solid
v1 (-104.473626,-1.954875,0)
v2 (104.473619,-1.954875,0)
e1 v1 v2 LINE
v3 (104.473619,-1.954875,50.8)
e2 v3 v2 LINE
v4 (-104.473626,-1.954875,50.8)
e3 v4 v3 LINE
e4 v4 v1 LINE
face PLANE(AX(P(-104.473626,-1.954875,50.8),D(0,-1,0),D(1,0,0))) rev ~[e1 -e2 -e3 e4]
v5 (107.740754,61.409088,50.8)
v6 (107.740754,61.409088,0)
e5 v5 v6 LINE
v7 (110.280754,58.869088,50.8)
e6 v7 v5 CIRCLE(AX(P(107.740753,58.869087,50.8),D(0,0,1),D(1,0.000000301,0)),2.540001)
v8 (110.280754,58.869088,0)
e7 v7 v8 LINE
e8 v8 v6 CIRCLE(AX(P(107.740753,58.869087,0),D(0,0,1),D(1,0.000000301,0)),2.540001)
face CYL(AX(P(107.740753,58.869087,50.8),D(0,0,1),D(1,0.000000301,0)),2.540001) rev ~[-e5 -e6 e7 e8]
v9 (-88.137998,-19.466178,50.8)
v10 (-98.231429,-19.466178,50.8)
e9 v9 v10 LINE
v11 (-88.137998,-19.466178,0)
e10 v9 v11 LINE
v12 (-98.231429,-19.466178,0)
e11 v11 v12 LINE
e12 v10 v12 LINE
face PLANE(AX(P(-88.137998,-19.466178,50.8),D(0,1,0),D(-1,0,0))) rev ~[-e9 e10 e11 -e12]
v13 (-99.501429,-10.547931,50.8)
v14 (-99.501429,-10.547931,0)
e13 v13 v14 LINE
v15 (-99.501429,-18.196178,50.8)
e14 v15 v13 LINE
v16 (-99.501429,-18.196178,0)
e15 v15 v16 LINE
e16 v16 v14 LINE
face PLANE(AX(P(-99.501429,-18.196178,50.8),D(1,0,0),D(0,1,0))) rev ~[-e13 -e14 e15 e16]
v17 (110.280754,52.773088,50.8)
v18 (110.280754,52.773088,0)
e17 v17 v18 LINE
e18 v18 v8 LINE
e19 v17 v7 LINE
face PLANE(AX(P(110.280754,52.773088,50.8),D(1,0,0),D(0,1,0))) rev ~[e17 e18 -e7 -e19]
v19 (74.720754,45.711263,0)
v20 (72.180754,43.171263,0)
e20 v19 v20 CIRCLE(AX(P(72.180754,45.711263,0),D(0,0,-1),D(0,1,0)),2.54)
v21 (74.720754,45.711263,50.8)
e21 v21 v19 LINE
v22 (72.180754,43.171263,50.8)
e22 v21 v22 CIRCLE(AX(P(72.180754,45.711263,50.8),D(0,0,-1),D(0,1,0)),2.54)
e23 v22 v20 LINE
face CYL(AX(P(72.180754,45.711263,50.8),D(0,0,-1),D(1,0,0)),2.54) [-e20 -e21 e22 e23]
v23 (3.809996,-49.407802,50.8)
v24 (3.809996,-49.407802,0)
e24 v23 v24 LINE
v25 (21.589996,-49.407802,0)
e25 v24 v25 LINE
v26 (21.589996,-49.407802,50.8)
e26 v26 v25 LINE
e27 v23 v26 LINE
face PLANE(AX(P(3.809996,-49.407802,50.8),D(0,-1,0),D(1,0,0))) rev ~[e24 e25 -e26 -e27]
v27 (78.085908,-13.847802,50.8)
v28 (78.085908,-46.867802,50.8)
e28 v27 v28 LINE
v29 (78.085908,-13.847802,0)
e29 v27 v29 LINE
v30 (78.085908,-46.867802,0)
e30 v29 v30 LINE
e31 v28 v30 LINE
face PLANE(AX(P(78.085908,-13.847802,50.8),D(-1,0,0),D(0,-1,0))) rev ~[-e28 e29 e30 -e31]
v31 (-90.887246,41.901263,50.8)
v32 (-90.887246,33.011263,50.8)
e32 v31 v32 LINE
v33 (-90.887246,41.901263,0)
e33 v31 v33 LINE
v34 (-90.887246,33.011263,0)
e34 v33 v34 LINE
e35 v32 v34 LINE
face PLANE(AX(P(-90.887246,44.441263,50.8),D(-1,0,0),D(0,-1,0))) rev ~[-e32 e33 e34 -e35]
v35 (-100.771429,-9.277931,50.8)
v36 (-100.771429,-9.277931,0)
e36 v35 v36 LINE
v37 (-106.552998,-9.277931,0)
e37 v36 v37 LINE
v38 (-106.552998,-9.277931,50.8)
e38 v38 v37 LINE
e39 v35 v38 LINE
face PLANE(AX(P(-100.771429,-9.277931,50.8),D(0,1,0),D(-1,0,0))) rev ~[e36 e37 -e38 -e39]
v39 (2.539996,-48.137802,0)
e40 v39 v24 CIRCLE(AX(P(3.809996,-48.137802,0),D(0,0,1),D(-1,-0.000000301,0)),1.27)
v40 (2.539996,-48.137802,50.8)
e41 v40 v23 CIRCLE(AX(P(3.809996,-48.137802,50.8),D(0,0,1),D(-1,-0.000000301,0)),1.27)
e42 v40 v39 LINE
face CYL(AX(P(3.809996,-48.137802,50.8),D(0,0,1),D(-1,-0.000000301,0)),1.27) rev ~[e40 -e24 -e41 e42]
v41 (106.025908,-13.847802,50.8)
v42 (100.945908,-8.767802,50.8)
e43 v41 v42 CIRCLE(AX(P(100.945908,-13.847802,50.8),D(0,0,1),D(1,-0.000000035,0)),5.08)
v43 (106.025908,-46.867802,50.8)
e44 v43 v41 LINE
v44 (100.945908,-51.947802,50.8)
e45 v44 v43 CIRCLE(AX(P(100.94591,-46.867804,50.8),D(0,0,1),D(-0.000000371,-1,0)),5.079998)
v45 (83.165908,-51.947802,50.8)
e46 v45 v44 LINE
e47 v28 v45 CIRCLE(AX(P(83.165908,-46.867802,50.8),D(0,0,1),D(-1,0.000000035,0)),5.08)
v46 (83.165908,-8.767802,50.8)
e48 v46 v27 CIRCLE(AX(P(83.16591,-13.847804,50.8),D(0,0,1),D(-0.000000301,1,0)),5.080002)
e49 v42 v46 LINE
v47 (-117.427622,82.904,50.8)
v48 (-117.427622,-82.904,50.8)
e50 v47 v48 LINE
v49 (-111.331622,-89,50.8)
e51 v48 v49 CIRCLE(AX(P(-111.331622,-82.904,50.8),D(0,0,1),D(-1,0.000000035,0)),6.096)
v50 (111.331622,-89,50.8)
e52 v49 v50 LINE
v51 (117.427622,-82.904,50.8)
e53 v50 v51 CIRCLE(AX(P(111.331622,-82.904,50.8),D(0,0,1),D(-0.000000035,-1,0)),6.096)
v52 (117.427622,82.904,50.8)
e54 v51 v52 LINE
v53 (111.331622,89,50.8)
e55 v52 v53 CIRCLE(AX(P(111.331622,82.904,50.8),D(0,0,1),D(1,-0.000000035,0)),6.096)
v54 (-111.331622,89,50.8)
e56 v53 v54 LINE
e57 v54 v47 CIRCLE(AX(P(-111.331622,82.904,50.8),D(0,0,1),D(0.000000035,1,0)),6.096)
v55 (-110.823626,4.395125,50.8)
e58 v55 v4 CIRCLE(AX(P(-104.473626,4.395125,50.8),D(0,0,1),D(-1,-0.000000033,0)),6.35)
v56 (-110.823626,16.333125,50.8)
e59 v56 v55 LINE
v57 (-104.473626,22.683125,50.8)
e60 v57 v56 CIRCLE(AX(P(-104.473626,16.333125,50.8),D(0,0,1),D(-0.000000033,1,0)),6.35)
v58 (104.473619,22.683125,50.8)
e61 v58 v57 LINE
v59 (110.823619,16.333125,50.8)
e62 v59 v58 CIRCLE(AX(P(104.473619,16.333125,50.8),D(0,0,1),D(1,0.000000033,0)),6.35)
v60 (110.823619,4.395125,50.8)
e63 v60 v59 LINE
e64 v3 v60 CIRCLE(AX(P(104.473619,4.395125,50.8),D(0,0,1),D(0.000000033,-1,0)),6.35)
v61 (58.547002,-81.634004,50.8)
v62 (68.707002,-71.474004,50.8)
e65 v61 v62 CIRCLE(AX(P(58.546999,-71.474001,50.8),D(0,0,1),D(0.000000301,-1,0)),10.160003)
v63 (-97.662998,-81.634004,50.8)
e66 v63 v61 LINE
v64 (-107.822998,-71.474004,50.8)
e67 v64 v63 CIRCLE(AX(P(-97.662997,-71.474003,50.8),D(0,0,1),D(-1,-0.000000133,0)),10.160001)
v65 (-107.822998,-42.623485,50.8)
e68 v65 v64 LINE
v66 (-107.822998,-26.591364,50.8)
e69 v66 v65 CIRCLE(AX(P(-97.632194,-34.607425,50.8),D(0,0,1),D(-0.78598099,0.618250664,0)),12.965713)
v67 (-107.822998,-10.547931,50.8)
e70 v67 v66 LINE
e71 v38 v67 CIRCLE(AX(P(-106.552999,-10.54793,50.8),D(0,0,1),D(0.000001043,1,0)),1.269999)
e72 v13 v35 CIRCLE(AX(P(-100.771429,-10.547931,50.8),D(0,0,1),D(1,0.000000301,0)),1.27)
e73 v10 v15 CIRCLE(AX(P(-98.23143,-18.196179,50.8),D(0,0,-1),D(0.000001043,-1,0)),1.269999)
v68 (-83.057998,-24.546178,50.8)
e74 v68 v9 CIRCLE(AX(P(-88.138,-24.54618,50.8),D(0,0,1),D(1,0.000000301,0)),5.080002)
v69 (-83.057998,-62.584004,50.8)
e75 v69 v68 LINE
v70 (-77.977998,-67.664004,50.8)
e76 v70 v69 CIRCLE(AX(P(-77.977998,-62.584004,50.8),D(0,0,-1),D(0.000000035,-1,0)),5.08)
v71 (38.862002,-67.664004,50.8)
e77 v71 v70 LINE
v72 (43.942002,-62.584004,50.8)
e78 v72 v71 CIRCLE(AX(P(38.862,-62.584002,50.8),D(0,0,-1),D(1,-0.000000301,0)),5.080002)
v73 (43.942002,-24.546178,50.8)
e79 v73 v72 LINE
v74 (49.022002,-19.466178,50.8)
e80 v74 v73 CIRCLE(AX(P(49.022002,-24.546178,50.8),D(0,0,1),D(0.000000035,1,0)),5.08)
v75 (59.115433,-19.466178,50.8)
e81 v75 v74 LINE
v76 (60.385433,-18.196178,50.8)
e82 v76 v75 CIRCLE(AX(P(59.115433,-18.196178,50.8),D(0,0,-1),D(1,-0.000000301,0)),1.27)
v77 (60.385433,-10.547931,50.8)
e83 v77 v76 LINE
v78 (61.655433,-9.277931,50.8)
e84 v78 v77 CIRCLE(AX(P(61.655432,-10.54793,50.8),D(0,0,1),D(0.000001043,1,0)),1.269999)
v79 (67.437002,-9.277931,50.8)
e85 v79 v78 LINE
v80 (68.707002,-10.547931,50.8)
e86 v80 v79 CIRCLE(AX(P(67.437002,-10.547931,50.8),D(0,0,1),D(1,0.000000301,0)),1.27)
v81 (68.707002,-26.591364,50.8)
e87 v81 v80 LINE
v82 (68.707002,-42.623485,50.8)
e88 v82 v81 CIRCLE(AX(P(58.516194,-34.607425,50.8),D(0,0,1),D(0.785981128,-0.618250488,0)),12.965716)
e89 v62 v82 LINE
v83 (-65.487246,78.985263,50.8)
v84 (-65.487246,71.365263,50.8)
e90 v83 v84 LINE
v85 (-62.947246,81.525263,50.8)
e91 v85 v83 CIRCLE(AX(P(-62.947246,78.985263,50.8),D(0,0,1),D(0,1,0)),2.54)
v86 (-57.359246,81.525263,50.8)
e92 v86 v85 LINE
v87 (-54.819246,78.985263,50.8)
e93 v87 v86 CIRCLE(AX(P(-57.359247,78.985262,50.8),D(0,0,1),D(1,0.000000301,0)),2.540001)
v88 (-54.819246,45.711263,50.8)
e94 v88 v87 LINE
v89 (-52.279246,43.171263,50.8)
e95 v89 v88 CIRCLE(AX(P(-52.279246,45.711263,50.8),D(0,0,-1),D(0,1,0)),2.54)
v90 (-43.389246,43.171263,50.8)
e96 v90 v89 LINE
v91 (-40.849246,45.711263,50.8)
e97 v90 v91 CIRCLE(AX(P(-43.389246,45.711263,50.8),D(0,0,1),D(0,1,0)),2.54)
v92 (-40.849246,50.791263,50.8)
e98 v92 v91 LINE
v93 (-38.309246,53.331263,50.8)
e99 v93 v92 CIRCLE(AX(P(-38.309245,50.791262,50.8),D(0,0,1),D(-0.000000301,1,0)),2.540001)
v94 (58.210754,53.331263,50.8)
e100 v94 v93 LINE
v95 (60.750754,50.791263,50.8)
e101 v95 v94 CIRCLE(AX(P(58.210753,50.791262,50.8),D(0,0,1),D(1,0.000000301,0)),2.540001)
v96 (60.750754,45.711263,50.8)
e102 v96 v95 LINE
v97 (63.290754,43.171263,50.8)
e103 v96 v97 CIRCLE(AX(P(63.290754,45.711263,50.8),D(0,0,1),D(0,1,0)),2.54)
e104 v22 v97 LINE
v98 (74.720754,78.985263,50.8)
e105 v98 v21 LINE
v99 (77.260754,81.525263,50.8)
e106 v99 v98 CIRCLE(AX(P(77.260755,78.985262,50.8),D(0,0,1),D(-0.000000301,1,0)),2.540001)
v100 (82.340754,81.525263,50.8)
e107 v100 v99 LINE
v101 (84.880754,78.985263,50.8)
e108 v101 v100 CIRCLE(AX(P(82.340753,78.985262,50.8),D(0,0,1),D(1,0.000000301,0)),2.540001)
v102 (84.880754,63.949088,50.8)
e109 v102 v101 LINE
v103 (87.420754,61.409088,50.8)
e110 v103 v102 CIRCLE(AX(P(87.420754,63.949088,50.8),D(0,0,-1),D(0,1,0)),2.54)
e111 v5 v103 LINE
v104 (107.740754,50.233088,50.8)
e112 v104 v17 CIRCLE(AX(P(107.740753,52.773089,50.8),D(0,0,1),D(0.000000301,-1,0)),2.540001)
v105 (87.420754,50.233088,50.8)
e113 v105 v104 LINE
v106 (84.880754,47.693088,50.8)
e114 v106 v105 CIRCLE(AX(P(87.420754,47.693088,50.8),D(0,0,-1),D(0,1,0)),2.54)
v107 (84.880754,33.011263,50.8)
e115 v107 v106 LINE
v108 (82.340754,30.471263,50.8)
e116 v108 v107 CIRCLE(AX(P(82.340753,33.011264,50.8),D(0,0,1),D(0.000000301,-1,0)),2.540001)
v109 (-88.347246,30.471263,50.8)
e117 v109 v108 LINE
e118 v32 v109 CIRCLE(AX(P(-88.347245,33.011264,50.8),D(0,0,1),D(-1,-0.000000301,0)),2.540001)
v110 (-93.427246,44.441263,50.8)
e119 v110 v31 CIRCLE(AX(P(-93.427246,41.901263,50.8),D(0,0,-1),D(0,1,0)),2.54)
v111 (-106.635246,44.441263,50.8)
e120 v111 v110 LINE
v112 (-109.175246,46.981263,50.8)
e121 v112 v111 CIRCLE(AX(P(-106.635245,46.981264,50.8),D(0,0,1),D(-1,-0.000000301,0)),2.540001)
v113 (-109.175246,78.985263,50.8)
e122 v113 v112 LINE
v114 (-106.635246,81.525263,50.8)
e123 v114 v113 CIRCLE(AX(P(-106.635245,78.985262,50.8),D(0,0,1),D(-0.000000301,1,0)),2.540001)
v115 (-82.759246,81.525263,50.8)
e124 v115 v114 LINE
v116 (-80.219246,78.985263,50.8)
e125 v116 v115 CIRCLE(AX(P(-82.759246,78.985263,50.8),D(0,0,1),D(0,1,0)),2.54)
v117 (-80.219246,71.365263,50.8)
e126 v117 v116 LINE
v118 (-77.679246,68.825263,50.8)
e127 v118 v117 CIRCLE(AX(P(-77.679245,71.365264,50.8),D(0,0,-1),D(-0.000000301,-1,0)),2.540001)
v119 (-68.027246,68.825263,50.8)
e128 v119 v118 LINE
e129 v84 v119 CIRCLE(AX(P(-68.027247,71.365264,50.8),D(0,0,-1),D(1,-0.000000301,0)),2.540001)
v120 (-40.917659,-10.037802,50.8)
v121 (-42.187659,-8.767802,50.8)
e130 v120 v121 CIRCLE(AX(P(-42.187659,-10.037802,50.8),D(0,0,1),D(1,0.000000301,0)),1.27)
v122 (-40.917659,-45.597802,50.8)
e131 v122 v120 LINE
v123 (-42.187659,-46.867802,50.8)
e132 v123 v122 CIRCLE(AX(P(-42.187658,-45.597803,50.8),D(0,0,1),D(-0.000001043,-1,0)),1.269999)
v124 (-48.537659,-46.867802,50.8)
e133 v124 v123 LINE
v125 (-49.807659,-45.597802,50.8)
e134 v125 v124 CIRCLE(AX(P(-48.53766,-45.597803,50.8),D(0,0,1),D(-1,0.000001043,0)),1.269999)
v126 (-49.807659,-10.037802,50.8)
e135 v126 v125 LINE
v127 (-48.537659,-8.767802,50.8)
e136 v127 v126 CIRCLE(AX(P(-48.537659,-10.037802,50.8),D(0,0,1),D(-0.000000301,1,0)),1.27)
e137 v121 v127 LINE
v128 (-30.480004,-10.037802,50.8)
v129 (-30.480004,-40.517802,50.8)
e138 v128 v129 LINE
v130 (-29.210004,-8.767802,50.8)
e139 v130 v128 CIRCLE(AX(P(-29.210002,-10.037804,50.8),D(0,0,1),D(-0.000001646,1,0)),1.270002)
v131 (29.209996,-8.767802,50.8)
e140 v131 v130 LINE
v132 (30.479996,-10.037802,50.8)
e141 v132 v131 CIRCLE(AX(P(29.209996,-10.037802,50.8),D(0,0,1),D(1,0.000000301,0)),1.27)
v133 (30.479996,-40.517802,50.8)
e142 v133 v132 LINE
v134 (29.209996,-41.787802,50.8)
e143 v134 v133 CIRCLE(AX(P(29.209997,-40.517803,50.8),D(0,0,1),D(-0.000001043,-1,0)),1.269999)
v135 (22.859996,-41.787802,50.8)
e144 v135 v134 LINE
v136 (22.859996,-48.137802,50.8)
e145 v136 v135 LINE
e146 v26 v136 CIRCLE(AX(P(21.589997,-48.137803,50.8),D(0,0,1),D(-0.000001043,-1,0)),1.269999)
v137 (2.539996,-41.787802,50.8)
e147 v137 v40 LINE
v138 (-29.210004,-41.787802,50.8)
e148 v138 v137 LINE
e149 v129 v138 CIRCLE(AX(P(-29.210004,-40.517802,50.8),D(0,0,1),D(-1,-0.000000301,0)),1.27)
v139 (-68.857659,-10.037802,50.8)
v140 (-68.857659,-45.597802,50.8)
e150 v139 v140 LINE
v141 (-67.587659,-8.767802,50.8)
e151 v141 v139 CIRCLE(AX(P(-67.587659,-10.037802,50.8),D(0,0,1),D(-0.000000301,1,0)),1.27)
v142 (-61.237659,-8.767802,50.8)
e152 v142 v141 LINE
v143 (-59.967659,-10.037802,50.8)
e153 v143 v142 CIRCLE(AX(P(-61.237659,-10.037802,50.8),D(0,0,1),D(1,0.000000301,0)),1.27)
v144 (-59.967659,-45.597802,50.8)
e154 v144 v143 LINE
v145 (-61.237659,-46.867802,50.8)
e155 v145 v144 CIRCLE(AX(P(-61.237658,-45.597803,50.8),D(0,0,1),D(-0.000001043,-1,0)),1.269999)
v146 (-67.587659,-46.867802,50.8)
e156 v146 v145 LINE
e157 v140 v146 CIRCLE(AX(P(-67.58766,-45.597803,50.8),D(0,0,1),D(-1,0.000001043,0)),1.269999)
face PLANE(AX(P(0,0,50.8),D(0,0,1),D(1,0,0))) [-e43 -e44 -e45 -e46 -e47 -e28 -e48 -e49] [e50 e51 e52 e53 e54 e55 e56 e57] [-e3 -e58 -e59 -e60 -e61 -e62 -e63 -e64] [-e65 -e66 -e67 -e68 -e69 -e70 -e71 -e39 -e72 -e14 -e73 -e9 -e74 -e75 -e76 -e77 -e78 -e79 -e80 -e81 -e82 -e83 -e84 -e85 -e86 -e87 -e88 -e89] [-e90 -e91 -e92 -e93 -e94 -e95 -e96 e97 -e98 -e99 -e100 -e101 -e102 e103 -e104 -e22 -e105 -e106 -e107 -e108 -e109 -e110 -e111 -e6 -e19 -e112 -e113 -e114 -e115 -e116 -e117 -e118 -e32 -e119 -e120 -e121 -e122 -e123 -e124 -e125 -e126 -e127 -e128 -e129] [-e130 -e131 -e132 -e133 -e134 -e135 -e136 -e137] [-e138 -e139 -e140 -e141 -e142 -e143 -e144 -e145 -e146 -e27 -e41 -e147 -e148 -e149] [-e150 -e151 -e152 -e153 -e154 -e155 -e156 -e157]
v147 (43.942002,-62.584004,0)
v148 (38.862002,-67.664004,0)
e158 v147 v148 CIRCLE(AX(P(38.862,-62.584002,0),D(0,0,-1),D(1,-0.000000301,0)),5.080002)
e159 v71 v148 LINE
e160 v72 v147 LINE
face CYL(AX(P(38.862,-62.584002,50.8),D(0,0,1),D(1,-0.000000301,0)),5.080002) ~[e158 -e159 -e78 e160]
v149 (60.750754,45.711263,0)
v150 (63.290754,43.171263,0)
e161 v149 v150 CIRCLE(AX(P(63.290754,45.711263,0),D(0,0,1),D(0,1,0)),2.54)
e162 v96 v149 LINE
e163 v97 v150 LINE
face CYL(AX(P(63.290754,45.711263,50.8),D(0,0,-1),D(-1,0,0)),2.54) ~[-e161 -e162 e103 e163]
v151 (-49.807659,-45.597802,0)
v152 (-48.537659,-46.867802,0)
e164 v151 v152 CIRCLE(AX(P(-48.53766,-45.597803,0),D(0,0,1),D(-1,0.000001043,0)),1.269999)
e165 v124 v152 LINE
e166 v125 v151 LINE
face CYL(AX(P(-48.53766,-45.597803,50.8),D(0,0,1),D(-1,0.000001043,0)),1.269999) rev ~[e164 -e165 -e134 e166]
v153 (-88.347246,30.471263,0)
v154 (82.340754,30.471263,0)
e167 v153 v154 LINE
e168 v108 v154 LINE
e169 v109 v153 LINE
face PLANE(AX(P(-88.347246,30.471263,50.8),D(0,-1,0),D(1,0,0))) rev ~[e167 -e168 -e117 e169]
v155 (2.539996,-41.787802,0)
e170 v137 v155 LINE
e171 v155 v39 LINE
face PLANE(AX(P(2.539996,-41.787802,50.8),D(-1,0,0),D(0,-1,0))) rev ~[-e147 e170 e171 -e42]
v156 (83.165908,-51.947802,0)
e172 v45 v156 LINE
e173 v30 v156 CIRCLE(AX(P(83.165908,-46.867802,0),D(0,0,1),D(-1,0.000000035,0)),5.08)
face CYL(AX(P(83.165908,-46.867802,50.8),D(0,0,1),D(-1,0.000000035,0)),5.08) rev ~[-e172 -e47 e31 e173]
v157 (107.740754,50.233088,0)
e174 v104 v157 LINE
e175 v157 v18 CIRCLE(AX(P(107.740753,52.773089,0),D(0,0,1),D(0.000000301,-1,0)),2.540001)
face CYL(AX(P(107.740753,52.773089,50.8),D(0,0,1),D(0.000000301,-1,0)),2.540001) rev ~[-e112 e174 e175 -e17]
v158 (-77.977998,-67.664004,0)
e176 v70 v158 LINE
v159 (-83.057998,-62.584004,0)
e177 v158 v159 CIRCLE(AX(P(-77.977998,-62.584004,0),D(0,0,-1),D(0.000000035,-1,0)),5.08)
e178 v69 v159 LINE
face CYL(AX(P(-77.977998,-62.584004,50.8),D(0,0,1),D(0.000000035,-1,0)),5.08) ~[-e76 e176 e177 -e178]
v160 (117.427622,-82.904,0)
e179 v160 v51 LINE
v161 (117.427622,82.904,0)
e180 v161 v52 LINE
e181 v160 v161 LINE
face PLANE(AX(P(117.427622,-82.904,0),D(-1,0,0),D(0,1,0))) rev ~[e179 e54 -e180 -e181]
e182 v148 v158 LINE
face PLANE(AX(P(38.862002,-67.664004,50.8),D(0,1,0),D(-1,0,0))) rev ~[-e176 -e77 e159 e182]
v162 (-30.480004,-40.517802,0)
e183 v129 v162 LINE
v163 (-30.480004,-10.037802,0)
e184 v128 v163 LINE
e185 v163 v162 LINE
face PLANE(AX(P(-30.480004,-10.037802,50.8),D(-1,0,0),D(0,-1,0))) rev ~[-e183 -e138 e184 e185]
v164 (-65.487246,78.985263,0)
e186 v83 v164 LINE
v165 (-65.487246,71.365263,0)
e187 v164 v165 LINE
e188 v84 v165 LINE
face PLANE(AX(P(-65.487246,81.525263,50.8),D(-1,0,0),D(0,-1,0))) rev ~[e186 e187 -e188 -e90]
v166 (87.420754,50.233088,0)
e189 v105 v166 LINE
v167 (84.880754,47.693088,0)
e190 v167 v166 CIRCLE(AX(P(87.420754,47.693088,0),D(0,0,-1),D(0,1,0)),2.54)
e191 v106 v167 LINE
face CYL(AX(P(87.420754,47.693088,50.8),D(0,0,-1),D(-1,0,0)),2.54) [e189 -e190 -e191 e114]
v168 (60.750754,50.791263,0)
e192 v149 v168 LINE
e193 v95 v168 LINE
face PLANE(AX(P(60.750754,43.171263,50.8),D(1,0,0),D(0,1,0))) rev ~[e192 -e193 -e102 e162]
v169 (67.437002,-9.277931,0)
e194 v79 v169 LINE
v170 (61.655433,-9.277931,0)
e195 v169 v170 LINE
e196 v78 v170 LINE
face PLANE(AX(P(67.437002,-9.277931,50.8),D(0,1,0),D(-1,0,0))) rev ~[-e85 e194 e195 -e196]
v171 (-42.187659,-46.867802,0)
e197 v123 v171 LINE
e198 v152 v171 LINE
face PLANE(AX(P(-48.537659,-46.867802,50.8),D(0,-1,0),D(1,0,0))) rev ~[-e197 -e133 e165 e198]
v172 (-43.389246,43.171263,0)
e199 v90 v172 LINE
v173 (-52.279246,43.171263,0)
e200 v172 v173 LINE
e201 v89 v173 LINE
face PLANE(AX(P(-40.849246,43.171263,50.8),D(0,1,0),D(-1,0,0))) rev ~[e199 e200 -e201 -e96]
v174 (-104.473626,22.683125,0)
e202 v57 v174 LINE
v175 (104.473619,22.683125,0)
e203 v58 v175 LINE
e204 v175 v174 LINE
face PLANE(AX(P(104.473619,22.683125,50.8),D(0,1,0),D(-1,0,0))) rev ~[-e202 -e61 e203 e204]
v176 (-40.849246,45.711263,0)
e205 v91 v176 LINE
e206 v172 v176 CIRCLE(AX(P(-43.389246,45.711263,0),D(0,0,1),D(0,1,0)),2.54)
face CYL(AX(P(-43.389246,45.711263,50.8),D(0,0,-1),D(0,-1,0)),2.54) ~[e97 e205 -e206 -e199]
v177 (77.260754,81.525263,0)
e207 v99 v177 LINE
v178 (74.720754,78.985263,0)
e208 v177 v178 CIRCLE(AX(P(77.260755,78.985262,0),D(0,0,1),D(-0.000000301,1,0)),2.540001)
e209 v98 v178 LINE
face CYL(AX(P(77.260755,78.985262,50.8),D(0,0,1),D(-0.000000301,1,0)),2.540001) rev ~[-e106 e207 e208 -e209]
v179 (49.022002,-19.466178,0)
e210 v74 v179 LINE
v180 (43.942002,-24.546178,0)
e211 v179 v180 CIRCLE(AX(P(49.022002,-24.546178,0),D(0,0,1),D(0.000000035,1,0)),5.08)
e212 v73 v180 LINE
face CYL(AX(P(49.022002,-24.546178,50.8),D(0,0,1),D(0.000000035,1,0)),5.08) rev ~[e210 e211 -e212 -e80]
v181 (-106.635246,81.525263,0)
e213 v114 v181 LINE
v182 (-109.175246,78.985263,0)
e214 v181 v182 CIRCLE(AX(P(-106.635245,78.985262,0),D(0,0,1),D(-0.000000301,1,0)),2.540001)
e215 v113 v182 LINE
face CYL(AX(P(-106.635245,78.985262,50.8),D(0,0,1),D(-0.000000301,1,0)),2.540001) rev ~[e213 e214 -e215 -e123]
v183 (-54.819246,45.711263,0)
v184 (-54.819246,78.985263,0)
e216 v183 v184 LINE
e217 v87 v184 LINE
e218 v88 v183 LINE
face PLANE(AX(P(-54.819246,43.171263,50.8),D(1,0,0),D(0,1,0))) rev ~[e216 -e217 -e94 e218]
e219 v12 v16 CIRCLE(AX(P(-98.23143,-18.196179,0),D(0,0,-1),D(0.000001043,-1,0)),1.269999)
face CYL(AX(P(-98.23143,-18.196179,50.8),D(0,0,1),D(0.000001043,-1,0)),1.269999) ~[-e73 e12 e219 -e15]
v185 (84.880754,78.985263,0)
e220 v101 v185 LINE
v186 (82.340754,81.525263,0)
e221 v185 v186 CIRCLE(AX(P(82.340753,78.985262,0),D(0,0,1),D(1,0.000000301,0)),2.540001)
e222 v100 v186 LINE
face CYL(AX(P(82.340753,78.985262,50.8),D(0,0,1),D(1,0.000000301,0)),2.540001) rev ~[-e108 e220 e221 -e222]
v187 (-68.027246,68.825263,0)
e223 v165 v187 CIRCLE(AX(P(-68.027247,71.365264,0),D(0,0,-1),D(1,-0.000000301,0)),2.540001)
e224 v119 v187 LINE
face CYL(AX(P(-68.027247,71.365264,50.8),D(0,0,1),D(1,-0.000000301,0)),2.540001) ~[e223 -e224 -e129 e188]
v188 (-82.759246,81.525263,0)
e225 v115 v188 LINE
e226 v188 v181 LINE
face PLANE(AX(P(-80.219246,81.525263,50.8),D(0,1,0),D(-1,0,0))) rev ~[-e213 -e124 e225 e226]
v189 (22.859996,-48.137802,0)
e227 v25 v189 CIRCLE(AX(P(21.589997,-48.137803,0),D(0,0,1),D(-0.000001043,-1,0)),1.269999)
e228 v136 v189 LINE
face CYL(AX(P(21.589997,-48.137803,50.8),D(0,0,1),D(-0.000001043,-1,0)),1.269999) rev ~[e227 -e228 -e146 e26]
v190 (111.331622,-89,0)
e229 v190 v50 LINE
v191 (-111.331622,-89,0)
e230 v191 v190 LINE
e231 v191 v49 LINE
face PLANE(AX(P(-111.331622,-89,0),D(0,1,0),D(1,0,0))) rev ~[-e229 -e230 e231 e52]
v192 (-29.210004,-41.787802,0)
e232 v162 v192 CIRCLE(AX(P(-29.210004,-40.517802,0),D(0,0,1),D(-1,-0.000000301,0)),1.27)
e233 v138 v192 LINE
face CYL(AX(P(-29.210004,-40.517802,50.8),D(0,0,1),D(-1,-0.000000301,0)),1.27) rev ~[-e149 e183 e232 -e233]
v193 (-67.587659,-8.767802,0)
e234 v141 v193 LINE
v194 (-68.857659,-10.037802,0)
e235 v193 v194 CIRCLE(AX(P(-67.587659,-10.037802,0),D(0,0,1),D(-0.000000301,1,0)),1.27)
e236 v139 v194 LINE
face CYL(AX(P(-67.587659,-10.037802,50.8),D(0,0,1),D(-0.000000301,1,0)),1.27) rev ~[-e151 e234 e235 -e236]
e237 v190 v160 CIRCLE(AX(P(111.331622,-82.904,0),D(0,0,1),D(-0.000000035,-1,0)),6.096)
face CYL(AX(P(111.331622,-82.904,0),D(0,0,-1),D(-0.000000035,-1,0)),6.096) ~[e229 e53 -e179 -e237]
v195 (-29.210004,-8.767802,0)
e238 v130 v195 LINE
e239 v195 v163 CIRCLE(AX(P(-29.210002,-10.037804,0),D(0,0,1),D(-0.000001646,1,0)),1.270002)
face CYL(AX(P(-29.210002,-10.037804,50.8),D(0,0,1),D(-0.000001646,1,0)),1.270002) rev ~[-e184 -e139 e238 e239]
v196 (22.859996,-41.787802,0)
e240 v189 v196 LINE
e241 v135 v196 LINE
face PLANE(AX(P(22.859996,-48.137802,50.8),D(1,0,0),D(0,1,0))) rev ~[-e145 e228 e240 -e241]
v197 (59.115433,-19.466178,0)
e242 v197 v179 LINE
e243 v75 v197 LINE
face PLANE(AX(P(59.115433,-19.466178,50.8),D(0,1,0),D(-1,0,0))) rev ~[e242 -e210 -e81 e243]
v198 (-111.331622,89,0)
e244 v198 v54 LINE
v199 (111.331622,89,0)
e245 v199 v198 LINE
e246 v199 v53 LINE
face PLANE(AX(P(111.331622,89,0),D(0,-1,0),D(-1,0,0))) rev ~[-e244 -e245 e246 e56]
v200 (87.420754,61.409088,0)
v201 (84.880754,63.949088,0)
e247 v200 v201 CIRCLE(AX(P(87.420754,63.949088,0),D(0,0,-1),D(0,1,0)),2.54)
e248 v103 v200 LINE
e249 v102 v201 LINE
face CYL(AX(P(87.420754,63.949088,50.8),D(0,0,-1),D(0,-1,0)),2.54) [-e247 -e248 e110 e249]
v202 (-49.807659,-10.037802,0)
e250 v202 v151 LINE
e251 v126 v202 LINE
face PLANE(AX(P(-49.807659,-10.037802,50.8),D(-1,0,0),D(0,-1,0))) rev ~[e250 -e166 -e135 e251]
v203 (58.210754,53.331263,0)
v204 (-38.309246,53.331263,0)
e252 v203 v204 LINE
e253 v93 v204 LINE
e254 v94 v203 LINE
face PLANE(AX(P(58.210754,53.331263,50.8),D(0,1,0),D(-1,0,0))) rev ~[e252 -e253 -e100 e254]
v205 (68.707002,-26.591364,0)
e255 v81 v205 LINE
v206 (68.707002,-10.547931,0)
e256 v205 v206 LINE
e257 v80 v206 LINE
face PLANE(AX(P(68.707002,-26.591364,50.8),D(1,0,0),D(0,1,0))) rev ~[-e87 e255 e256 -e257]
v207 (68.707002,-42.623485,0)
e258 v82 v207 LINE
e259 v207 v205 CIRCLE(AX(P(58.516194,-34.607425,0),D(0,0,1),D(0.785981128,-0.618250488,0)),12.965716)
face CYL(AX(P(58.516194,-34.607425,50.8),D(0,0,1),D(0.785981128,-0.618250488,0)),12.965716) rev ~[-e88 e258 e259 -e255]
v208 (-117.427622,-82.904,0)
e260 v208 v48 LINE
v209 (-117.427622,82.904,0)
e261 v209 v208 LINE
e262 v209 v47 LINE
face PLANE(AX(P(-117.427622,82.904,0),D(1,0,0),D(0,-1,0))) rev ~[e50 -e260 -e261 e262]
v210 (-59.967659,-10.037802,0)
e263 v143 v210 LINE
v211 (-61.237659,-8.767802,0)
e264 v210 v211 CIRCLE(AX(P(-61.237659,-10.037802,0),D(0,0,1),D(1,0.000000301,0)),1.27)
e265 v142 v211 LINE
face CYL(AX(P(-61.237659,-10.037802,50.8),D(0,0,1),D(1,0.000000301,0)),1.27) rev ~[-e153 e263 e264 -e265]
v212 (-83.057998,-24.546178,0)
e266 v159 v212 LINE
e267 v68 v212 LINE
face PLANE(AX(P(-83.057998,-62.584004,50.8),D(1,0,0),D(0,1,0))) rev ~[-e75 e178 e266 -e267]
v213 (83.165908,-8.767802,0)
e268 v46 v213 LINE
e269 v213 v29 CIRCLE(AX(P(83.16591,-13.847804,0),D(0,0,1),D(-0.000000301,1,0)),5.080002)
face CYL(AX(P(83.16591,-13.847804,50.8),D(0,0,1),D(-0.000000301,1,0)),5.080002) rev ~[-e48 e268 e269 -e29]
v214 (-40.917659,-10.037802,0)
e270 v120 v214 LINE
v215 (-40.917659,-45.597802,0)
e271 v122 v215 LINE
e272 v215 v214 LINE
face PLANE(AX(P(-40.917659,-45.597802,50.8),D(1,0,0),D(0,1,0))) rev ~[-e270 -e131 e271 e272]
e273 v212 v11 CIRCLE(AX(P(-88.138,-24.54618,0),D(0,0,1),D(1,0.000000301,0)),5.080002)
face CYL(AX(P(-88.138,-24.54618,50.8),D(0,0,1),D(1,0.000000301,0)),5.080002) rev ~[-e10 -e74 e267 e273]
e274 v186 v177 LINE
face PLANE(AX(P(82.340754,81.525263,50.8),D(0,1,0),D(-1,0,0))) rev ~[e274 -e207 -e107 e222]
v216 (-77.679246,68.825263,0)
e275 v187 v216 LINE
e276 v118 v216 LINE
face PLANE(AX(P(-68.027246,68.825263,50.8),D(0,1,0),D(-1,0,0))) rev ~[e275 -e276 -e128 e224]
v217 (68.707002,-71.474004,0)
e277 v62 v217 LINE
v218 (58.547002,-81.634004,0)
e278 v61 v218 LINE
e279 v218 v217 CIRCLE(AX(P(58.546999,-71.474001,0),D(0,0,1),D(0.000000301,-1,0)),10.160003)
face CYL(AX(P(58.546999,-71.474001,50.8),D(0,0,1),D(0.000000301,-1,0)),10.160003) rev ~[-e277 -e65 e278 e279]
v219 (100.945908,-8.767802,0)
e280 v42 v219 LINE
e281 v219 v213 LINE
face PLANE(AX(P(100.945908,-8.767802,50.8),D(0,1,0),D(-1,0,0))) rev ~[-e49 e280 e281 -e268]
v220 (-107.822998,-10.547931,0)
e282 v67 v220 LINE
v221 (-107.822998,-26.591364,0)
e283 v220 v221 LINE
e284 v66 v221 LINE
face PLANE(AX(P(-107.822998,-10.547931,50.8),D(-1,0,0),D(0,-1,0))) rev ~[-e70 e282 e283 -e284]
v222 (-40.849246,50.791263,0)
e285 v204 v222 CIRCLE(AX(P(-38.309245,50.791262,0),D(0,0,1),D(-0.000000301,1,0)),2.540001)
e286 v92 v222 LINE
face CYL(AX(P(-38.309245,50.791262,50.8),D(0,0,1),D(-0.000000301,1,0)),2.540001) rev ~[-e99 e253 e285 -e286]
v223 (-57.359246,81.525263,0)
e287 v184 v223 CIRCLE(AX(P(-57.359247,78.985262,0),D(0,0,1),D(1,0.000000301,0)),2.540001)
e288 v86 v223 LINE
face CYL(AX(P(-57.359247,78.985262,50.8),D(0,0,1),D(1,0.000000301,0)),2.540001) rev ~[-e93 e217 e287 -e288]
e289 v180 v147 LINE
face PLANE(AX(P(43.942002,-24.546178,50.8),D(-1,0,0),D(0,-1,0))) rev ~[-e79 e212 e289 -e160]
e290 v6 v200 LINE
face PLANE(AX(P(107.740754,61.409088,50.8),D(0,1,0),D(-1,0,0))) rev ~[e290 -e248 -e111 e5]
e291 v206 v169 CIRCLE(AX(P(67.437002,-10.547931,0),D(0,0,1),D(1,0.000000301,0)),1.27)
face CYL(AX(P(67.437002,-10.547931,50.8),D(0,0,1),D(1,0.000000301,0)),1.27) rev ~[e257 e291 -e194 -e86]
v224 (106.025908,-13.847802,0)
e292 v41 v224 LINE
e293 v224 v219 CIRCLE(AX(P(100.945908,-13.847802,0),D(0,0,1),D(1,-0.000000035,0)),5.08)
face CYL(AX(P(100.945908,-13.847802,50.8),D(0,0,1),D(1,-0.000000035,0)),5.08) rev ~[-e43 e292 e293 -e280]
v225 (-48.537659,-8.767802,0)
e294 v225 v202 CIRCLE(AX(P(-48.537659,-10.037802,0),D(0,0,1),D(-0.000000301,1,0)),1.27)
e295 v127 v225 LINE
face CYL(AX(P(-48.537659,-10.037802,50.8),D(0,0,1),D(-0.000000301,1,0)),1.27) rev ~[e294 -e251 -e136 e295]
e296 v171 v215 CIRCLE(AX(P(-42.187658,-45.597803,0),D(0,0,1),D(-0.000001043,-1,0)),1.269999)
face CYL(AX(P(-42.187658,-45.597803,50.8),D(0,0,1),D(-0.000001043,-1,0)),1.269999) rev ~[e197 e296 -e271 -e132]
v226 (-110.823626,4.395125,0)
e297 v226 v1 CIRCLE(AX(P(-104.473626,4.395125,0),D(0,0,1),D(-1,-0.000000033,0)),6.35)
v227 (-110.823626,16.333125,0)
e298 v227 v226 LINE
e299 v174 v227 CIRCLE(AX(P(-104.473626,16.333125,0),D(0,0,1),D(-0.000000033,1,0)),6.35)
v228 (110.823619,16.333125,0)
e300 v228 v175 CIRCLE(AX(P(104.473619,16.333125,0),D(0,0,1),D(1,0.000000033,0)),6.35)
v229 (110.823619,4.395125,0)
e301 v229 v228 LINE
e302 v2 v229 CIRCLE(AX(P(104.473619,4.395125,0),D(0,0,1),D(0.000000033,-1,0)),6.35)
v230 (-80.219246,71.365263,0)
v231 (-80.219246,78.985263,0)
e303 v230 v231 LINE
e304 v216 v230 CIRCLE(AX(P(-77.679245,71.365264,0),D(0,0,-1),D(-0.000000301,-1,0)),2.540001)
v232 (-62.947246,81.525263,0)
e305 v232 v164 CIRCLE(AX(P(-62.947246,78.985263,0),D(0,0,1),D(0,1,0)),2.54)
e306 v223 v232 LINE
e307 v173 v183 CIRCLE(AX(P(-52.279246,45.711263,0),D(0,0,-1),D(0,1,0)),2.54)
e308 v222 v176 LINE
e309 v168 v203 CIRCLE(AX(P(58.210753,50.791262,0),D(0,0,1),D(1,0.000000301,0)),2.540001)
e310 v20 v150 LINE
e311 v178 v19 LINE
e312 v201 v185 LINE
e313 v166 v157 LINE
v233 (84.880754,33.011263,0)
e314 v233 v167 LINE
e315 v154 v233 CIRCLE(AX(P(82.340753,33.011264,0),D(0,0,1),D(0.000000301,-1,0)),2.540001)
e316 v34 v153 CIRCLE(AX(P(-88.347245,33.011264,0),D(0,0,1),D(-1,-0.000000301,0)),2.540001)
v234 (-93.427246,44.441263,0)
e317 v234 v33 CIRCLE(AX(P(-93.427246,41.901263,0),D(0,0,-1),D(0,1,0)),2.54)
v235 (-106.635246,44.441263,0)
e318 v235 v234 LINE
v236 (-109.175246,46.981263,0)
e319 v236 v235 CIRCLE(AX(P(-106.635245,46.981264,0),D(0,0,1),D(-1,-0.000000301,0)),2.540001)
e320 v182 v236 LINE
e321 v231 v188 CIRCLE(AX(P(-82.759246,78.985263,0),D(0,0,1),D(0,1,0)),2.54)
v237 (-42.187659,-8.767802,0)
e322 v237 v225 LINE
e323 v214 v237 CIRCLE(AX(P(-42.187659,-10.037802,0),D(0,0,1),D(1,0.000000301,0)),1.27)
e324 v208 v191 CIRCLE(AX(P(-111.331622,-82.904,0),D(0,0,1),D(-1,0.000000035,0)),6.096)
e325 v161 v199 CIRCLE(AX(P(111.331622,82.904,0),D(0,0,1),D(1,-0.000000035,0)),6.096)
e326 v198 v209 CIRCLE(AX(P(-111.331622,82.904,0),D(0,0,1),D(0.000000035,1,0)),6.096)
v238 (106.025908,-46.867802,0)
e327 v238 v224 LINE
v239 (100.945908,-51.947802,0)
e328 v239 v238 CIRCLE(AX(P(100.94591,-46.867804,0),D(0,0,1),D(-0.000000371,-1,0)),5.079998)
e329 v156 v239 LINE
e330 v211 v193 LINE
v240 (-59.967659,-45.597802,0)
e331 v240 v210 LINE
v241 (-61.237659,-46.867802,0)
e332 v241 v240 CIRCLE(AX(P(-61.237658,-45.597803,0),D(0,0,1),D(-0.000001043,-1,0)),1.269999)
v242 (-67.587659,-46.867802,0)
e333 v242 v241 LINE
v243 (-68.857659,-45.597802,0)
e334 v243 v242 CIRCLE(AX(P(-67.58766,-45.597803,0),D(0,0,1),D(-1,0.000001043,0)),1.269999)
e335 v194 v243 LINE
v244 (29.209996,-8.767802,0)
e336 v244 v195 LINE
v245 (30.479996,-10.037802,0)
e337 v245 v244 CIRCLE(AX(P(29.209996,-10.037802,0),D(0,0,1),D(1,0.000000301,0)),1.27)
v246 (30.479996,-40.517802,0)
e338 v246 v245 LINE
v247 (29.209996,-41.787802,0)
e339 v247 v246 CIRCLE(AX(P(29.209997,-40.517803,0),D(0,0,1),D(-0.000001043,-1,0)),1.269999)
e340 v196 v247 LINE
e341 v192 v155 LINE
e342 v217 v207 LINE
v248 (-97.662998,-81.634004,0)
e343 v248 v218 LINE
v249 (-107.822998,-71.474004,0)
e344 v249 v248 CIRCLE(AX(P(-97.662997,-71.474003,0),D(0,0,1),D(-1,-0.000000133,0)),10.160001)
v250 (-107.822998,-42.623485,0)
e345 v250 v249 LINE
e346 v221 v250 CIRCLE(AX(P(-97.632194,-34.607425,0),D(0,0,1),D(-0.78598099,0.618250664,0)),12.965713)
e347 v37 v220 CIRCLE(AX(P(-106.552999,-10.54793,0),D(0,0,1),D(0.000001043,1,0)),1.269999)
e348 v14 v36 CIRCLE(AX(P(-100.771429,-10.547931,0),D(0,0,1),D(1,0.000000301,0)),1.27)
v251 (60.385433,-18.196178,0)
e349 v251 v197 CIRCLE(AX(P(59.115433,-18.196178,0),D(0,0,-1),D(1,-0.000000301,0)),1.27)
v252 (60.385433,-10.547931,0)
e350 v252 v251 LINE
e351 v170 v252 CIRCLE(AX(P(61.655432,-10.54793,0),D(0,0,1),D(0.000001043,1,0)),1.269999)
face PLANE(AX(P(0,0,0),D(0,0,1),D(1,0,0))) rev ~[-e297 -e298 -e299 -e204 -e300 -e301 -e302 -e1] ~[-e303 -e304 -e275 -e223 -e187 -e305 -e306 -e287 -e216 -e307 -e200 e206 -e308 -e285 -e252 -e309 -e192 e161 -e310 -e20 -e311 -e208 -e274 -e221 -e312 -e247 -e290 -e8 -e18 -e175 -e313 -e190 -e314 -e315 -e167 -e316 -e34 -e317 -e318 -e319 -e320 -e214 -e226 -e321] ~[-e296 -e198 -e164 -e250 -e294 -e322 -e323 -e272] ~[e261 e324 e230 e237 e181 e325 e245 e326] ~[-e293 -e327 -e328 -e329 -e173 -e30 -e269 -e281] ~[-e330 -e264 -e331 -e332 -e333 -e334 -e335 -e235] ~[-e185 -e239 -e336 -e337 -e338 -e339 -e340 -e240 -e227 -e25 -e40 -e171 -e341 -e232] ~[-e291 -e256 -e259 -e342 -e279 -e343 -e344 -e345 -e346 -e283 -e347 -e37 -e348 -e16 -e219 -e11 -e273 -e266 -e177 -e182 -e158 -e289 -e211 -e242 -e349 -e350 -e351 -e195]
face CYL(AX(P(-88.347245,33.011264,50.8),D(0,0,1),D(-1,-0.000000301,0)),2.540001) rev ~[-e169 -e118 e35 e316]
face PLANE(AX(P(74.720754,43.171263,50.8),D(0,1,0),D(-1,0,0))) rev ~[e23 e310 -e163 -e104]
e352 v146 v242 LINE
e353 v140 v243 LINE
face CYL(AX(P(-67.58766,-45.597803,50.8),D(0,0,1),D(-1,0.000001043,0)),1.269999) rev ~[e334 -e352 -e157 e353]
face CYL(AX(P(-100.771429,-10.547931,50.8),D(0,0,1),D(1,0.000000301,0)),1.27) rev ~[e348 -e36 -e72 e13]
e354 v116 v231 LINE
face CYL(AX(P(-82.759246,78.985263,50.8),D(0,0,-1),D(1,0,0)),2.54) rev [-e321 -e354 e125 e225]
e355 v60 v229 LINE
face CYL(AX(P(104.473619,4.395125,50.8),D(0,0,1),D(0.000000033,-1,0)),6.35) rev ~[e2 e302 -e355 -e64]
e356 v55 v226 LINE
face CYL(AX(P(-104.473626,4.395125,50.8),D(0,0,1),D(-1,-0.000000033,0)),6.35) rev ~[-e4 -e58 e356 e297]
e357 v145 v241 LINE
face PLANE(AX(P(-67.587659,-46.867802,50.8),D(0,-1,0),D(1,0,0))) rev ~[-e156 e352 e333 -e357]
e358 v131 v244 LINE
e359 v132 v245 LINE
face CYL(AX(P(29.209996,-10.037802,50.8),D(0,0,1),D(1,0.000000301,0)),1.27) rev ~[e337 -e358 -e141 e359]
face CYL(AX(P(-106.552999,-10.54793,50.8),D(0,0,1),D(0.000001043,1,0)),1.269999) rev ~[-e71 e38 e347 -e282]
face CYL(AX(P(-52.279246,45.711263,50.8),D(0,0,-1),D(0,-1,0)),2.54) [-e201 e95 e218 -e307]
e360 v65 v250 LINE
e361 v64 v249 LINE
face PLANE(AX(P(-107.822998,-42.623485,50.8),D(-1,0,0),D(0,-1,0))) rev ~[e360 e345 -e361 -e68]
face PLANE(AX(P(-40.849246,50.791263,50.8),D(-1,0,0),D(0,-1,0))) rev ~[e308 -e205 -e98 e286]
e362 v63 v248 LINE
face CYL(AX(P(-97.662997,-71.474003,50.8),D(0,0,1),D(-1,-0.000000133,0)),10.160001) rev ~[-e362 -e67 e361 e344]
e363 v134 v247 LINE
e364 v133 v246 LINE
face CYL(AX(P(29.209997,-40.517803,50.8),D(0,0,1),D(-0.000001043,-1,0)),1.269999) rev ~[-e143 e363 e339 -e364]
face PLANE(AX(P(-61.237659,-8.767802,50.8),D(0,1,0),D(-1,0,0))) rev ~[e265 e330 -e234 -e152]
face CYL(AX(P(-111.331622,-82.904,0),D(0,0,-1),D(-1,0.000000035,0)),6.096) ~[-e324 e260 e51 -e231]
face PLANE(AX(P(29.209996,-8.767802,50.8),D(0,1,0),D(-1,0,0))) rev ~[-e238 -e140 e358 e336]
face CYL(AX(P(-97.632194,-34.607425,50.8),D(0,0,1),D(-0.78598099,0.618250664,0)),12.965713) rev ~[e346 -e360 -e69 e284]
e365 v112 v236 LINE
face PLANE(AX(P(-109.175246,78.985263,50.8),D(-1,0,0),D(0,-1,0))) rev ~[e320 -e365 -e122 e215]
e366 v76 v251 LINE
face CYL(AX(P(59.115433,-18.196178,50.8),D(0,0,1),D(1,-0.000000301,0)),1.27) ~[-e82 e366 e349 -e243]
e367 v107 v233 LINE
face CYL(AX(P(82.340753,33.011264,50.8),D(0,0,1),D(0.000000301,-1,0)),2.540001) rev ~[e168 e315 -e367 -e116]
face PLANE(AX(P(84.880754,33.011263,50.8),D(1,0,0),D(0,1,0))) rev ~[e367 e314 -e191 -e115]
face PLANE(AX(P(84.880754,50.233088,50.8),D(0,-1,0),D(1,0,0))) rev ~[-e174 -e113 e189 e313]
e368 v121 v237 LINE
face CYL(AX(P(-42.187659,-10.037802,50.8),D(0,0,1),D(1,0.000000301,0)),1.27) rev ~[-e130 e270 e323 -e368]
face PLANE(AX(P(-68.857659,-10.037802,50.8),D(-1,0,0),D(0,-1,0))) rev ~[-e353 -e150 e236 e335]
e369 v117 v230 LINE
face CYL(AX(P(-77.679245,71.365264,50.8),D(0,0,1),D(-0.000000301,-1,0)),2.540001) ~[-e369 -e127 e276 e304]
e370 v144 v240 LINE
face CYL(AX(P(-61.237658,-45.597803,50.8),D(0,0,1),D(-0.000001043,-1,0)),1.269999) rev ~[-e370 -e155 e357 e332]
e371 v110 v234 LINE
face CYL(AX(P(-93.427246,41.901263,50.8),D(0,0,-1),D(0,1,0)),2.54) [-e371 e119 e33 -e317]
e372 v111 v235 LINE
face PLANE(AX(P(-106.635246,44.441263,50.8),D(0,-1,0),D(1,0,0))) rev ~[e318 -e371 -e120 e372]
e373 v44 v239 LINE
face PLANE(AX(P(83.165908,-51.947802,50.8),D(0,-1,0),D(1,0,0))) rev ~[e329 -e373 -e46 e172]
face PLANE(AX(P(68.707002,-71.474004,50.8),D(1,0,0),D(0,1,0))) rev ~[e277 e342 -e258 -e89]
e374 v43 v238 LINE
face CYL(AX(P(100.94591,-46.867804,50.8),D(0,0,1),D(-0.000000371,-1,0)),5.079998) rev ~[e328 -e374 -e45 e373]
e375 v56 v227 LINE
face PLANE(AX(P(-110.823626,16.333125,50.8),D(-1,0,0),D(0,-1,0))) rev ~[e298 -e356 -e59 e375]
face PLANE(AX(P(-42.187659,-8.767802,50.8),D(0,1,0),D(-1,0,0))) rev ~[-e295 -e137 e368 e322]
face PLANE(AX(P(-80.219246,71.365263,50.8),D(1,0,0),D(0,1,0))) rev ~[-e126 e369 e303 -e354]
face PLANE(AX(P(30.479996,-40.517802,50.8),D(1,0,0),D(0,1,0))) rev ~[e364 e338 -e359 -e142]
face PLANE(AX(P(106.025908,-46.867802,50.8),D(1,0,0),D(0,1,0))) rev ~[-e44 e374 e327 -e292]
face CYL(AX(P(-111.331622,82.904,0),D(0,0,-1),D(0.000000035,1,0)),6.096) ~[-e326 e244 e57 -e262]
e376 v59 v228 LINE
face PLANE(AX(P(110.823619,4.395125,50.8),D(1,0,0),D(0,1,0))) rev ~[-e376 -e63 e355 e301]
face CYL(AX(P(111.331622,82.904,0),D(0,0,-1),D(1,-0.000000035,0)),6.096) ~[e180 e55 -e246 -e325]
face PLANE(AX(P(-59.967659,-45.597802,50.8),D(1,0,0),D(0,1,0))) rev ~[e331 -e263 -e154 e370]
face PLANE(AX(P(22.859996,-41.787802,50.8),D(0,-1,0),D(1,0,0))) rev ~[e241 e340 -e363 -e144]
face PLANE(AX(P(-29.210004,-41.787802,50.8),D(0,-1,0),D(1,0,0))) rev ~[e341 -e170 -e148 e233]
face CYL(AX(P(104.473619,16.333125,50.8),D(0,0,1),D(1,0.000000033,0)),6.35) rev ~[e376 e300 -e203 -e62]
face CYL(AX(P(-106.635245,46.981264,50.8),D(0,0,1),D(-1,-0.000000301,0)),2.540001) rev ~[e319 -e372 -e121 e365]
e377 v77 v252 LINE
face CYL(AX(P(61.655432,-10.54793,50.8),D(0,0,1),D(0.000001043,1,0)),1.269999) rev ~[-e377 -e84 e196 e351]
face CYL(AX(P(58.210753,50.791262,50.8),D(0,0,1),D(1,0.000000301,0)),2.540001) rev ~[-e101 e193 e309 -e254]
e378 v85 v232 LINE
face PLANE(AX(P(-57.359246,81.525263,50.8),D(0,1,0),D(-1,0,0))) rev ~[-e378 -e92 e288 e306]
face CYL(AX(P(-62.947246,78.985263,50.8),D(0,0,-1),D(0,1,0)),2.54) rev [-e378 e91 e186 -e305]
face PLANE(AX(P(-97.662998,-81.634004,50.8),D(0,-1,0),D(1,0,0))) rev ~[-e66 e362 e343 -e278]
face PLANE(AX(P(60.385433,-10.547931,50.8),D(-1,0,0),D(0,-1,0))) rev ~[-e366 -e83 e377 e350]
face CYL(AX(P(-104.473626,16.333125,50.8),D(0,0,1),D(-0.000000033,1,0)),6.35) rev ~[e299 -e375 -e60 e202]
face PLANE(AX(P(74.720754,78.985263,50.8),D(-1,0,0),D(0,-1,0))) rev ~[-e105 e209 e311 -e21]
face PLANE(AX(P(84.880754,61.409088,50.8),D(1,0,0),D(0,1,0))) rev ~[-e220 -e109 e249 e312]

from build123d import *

# Parameters (mm, degrees)
F1_DEPTH = 50.8
F3_DEPTH = 50.8
F4_R     = 2.54
F5_R     = 2.54
F6_R     = 2.54
F8_DEPTH = 50.8


with BuildPart() as f1:
    # F0 (on Top) → F1 (new body)
    with BuildSketch(Plane.XY):
        with BuildLine():
            ThreePointArc((-111.331622, 89), (-115.642145, 87.214523), (-117.427622, 82.904))
            Line((-117.427622, 82.904), (-117.427622, -82.904))
            ThreePointArc((-117.427622, -82.904), (-115.642145, -87.214523), (-111.331622, -89))
            Line((-111.331622, -89), (111.331622, -89))
            ThreePointArc((111.331622, -89), (115.642145, -87.214523), (117.427622, -82.904))
            Line((117.427622, -82.904), (117.427622, 82.904))
            ThreePointArc((117.427622, 82.904), (115.642145, 87.214523), (111.331622, 89))
            Line((111.331622, 89), (-111.331622, 89))
        make_face()
    extrude(amount=F1_DEPTH)

    # F2 (on face) → F3 (cut)
    with BuildSketch(Plane.XY.offset(50.8)):
        with BuildLine():
            Line((104.473619, 22.683125), (-104.473626, 22.683125))
            ThreePointArc((-104.473626, 22.683125), (-108.963754, 20.823253), (-110.823626, 16.333125))
            Line((-110.823626, 16.333125), (-110.823626, 4.395125))
            ThreePointArc((-110.823626, 4.395125), (-108.963754, -0.095003), (-104.473626, -1.954875))
            Line((-104.473626, -1.954875), (104.473619, -1.954875))
            ThreePointArc((104.473619, -1.954875), (108.963747, -0.095003), (110.823619, 4.395125))
            Line((110.823619, 4.395125), (110.823619, 16.333125))
            ThreePointArc((110.823619, 16.333125), (108.963747, 20.823253), (104.473619, 22.683125))
        make_face()
        with BuildLine():
            ThreePointArc((-30.480004, -40.517802), (-30.108029, -41.415828), (-29.210004, -41.787802))
            Line((-29.210004, -41.787802), (2.539996, -41.787802))
            Line((2.539996, -41.787802), (22.859996, -41.787802))
            Line((22.859996, -41.787802), (29.209996, -41.787802))
            ThreePointArc((29.209996, -41.787802), (30.108022, -41.415828), (30.479996, -40.517802))
            Line((30.479996, -40.517802), (30.479996, -10.037802))
            ThreePointArc((30.479996, -10.037802), (30.108022, -9.139777), (29.209996, -8.767802))
            Line((29.209996, -8.767802), (-29.210004, -8.767802))
            ThreePointArc((-29.210004, -8.767802), (-30.108029, -9.139777), (-30.480004, -10.037802))
            Line((-30.480004, -10.037802), (-30.480004, -40.517802))
        make_face()
        with BuildLine():
            Line((22.859996, -41.787802), (2.539996, -41.787802))
            Line((2.539996, -41.787802), (2.539996, -48.137802))
            ThreePointArc((2.539996, -48.137802), (2.911971, -49.035828), (3.809996, -49.407802))
            Line((3.809996, -49.407802), (21.589996, -49.407802))
            ThreePointArc((21.589996, -49.407802), (22.488022, -49.035828), (22.859996, -48.137802))
            Line((22.859996, -48.137802), (22.859996, -41.787802))
        make_face()
        with BuildLine():
            ThreePointArc((83.165908, -8.767802), (79.573806, -10.2557), (78.085908, -13.847802))
            Line((78.085908, -13.847802), (78.085908, -46.867802))
            ThreePointArc((78.085908, -46.867802), (79.573806, -50.459905), (83.165908, -51.947802))
            Line((83.165908, -51.947802), (100.945908, -51.947802))
            ThreePointArc((100.945908, -51.947802), (104.538011, -50.459905), (106.025908, -46.867802))
            Line((106.025908, -46.867802), (106.025908, -13.847802))
            ThreePointArc((106.025908, -13.847802), (104.538011, -10.2557), (100.945908, -8.767802))
            Line((100.945908, -8.767802), (83.165908, -8.767802))
        make_face()
        with BuildLine():
            Line((-40.917659, -45.597802), (-40.917659, -10.037802))
            ThreePointArc((-40.917659, -10.037802), (-41.289633, -9.139777), (-42.187659, -8.767802))
            Line((-42.187659, -8.767802), (-48.537659, -8.767802))
            ThreePointArc((-48.537659, -8.767802), (-49.435685, -9.139777), (-49.807659, -10.037802))
            Line((-49.807659, -10.037802), (-49.807659, -45.597802))
            ThreePointArc((-49.807659, -45.597802), (-49.435685, -46.495828), (-48.537659, -46.867802))
            Line((-48.537659, -46.867802), (-42.187659, -46.867802))
            ThreePointArc((-42.187659, -46.867802), (-41.289633, -46.495828), (-40.917659, -45.597802))
        make_face()
        with BuildLine():
            Line((-90.887246, 81.525263), (-106.635246, 81.525263))
            ThreePointArc((-106.635246, 81.525263), (-108.431297, 80.781314), (-109.175246, 78.985263))
            Line((-109.175246, 78.985263), (-109.175246, 46.981263))
            ThreePointArc((-109.175246, 46.981263), (-108.431297, 45.185212), (-106.635246, 44.441263))
            Line((-106.635246, 44.441263), (-90.887246, 44.441263))
            Line((-90.887246, 44.441263), (-90.887246, 81.525263))
        make_face()
        with BuildLine():
            Line((-80.219246, 81.525263), (-90.887246, 81.525263))
            Line((-90.887246, 81.525263), (-90.887246, 44.441263))
            Line((-90.887246, 44.441263), (-90.887246, 33.011263))
            ThreePointArc((-90.887246, 33.011263), (-90.143297, 31.215212), (-88.347246, 30.471263))
            Line((-88.347246, 30.471263), (-54.819246, 30.471263))
            Line((-54.819246, 30.471263), (-54.819246, 43.171263))
            Line((-54.819246, 43.171263), (-54.819246, 78.985263))
            ThreePointArc((-54.819246, 78.985263), (-55.563195, 80.781314), (-57.359246, 81.525263))
            Line((-57.359246, 81.525263), (-65.487246, 81.525263))
            Line((-65.487246, 81.525263), (-65.487246, 71.365263))
            ThreePointArc((-65.487246, 71.365263), (-66.231195, 69.569212), (-68.027246, 68.825263))
            Line((-68.027246, 68.825263), (-77.679246, 68.825263))
            ThreePointArc((-77.679246, 68.825263), (-79.475297, 69.569212), (-80.219246, 71.365263))
            Line((-80.219246, 71.365263), (-80.219246, 81.525263))
        make_face()
        Polygon((-54.819246, 43.171263), (-54.819246, 30.471263), (74.720754, 30.471263), (74.720754, 43.171263), (60.750754, 43.171263), (-40.849246, 43.171263), align=None)
        with BuildLine():
            Line((74.720754, 43.171263), (74.720754, 30.471263))
            Line((74.720754, 30.471263), (82.340754, 30.471263))
            ThreePointArc((82.340754, 30.471263), (84.136805, 31.215212), (84.880754, 33.011263))
            Line((84.880754, 33.011263), (84.880754, 50.233088))
            Line((84.880754, 50.233088), (84.880754, 55.998263))
            Line((84.880754, 55.998263), (84.880754, 61.409088))
            Line((84.880754, 61.409088), (84.880754, 78.985263))
            ThreePointArc((84.880754, 78.985263), (84.136805, 80.781314), (82.340754, 81.525263))
            Line((82.340754, 81.525263), (77.260754, 81.525263))
            ThreePointArc((77.260754, 81.525263), (75.464703, 80.781314), (74.720754, 78.985263))
            Line((74.720754, 78.985263), (74.720754, 43.171263))
        make_face()
        with BuildLine():
            Line((-40.849246, 50.791263), (-40.849246, 43.171263))
            Line((-40.849246, 43.171263), (60.750754, 43.171263))
            Line((60.750754, 43.171263), (60.750754, 50.791263))
            ThreePointArc((60.750754, 50.791263), (60.006805, 52.587314), (58.210754, 53.331263))
            Line((58.210754, 53.331263), (-38.309246, 53.331263))
            ThreePointArc((-38.309246, 53.331263), (-40.105297, 52.587314), (-40.849246, 50.791263))
        make_face()
        with BuildLine():
            Line((84.880754, 55.998263), (84.880754, 50.233088))
            Line((84.880754, 50.233088), (107.740754, 50.233088))
            ThreePointArc((107.740754, 50.233088), (109.536805, 50.977037), (110.280754, 52.773088))
            Line((110.280754, 52.773088), (110.280754, 55.998263))
            Line((110.280754, 55.998263), (84.880754, 55.998263))
        make_face()
        with BuildLine():
            Line((84.880754, 61.409088), (84.880754, 55.998263))
            Line((84.880754, 55.998263), (110.280754, 55.998263))
            Line((110.280754, 55.998263), (110.280754, 58.869088))
            ThreePointArc((110.280754, 58.869088), (109.536805, 60.665139), (107.740754, 61.409088))
            Line((107.740754, 61.409088), (84.880754, 61.409088))
        make_face()
        with BuildLine():
            ThreePointArc((-61.237659, -46.867802), (-60.339633, -46.495828), (-59.967659, -45.597802))
            Line((-59.967659, -45.597802), (-59.967659, -10.037802))
            ThreePointArc((-59.967659, -10.037802), (-60.339633, -9.139777), (-61.237659, -8.767802))
            Line((-61.237659, -8.767802), (-67.587659, -8.767802))
            ThreePointArc((-67.587659, -8.767802), (-68.485685, -9.139777), (-68.857659, -10.037802))
            Line((-68.857659, -10.037802), (-68.857659, -45.597802))
            ThreePointArc((-68.857659, -45.597802), (-68.485685, -46.495828), (-67.587659, -46.867802))
            Line((-67.587659, -46.867802), (-61.237659, -46.867802))
        make_face()
    extrude(amount=-F3_DEPTH, mode=Mode.SUBTRACT)

    # F4
    f4_edges = [f1.edges().sort_by_distance(p)[0] for p in [
        (-54.819246, 43.171263, 25.4),
        (74.720754, 43.171263, 25.4),
        (84.880754, 50.233088, 25.4),
        (84.880754, 61.409088, 25.4),
        (-90.887246, 44.441263, 25.4),
    ]]
    fillet(f4_edges, radius=F4_R)

    # F5
    f5_edges = [f1.edges().sort_by_distance(p)[0] for p in [
        (-40.849246, 43.171263, 25.4),
        (60.750754, 43.171263, 25.4),
    ]]
    fillet(f5_edges, radius=F5_R)

    # F6
    f6_edges = [f1.edges().sort_by_distance(p)[0] for p in [
        (-80.219246, 81.525263, 25.4),
        (-65.487246, 81.525263, 25.4),
    ]]
    fillet(f6_edges, radius=F6_R)

    # F7 (on face) → F8 (cut)
    with BuildSketch(Plane.XY.offset(50.8)):
        with BuildLine():
            Line((25.847686, -67.664004), (-19.557998, -67.664004))
            Line((-19.557998, -67.664004), (-64.963682, -67.664004))
            Line((-64.963682, -67.664004), (-77.977998, -67.664004))
            ThreePointArc((-77.977998, -67.664004), (-81.570101, -66.176106), (-83.057998, -62.584004))
            Line((-83.057998, -62.584004), (-83.057998, -42.264004))
            Line((-83.057998, -42.264004), (-83.057998, -24.546178))
            ThreePointArc((-83.057998, -24.546178), (-84.545896, -20.954076), (-88.137998, -19.466178))
            Line((-88.137998, -19.466178), (-91.947998, -19.466178))
            Line((-91.947998, -19.466178), (-98.231429, -19.466178))
            ThreePointArc((-98.231429, -19.466178), (-99.129455, -19.094204), (-99.501429, -18.196178))
            Line((-99.501429, -18.196178), (-99.501429, -10.547931))
            ThreePointArc((-99.501429, -10.547931), (-99.873404, -9.649905), (-100.771429, -9.277931))
            Line((-100.771429, -9.277931), (-103.377998, -9.277931))
            Line((-103.377998, -9.277931), (-106.552998, -9.277931))
            ThreePointArc((-106.552998, -9.277931), (-107.451024, -9.649905), (-107.822998, -10.547931))
            Line((-107.822998, -10.547931), (-107.822998, -26.591364))
            Line((-107.822998, -26.591364), (-107.822998, -42.623485))
            Line((-107.822998, -42.623485), (-107.822998, -71.474004))
            ThreePointArc((-107.822998, -71.474004), (-104.847203, -78.658208), (-97.662998, -81.634004))
            Line((-97.662998, -81.634004), (-19.557998, -81.634004))
            Line((-19.557998, -81.634004), (58.547002, -81.634004))
            ThreePointArc((58.547002, -81.634004), (65.731206, -78.658208), (68.707002, -71.474004))
            Line((68.707002, -71.474004), (68.707002, -42.623485))
            Line((68.707002, -42.623485), (68.707002, -26.591364))
            Line((68.707002, -26.591364), (68.707002, -10.547931))
            ThreePointArc((68.707002, -10.547931), (68.335027, -9.649905), (67.437002, -9.277931))
            Line((67.437002, -9.277931), (64.262002, -9.277931))
            Line((64.262002, -9.277931), (61.655433, -9.277931))
            ThreePointArc((61.655433, -9.277931), (60.757407, -9.649905), (60.385433, -10.547931))
            Line((60.385433, -10.547931), (60.385433, -18.196178))
            ThreePointArc((60.385433, -18.196178), (60.013458, -19.094204), (59.115433, -19.466178))
            Line((59.115433, -19.466178), (52.832002, -19.466178))
            Line((52.832002, -19.466178), (49.022002, -19.466178))
            ThreePointArc((49.022002, -19.466178), (45.429899, -20.954076), (43.942002, -24.546178))
            Line((43.942002, -24.546178), (43.942002, -42.264004))
            Line((43.942002, -42.264004), (43.942002, -62.584004))
            ThreePointArc((43.942002, -62.584004), (42.454104, -66.176106), (38.862002, -67.664004))
            Line((38.862002, -67.664004), (25.847686, -67.664004))
        make_face()
        with BuildLine():
            Line((-107.822998, -42.623485), (-107.822998, -26.591364))
            ThreePointArc((-107.822998, -26.591364), (-110.597907, -34.607425), (-107.822998, -42.623485))
        make_face()
        with BuildLine():
            ThreePointArc((68.707002, -42.623485), (71.48191, -34.607425), (68.707002, -26.591364))
            Line((68.707002, -26.591364), (68.707002, -42.623485))
        make_face()
    extrude(amount=-F8_DEPTH, mode=Mode.SUBTRACT)


solid = f1.part
